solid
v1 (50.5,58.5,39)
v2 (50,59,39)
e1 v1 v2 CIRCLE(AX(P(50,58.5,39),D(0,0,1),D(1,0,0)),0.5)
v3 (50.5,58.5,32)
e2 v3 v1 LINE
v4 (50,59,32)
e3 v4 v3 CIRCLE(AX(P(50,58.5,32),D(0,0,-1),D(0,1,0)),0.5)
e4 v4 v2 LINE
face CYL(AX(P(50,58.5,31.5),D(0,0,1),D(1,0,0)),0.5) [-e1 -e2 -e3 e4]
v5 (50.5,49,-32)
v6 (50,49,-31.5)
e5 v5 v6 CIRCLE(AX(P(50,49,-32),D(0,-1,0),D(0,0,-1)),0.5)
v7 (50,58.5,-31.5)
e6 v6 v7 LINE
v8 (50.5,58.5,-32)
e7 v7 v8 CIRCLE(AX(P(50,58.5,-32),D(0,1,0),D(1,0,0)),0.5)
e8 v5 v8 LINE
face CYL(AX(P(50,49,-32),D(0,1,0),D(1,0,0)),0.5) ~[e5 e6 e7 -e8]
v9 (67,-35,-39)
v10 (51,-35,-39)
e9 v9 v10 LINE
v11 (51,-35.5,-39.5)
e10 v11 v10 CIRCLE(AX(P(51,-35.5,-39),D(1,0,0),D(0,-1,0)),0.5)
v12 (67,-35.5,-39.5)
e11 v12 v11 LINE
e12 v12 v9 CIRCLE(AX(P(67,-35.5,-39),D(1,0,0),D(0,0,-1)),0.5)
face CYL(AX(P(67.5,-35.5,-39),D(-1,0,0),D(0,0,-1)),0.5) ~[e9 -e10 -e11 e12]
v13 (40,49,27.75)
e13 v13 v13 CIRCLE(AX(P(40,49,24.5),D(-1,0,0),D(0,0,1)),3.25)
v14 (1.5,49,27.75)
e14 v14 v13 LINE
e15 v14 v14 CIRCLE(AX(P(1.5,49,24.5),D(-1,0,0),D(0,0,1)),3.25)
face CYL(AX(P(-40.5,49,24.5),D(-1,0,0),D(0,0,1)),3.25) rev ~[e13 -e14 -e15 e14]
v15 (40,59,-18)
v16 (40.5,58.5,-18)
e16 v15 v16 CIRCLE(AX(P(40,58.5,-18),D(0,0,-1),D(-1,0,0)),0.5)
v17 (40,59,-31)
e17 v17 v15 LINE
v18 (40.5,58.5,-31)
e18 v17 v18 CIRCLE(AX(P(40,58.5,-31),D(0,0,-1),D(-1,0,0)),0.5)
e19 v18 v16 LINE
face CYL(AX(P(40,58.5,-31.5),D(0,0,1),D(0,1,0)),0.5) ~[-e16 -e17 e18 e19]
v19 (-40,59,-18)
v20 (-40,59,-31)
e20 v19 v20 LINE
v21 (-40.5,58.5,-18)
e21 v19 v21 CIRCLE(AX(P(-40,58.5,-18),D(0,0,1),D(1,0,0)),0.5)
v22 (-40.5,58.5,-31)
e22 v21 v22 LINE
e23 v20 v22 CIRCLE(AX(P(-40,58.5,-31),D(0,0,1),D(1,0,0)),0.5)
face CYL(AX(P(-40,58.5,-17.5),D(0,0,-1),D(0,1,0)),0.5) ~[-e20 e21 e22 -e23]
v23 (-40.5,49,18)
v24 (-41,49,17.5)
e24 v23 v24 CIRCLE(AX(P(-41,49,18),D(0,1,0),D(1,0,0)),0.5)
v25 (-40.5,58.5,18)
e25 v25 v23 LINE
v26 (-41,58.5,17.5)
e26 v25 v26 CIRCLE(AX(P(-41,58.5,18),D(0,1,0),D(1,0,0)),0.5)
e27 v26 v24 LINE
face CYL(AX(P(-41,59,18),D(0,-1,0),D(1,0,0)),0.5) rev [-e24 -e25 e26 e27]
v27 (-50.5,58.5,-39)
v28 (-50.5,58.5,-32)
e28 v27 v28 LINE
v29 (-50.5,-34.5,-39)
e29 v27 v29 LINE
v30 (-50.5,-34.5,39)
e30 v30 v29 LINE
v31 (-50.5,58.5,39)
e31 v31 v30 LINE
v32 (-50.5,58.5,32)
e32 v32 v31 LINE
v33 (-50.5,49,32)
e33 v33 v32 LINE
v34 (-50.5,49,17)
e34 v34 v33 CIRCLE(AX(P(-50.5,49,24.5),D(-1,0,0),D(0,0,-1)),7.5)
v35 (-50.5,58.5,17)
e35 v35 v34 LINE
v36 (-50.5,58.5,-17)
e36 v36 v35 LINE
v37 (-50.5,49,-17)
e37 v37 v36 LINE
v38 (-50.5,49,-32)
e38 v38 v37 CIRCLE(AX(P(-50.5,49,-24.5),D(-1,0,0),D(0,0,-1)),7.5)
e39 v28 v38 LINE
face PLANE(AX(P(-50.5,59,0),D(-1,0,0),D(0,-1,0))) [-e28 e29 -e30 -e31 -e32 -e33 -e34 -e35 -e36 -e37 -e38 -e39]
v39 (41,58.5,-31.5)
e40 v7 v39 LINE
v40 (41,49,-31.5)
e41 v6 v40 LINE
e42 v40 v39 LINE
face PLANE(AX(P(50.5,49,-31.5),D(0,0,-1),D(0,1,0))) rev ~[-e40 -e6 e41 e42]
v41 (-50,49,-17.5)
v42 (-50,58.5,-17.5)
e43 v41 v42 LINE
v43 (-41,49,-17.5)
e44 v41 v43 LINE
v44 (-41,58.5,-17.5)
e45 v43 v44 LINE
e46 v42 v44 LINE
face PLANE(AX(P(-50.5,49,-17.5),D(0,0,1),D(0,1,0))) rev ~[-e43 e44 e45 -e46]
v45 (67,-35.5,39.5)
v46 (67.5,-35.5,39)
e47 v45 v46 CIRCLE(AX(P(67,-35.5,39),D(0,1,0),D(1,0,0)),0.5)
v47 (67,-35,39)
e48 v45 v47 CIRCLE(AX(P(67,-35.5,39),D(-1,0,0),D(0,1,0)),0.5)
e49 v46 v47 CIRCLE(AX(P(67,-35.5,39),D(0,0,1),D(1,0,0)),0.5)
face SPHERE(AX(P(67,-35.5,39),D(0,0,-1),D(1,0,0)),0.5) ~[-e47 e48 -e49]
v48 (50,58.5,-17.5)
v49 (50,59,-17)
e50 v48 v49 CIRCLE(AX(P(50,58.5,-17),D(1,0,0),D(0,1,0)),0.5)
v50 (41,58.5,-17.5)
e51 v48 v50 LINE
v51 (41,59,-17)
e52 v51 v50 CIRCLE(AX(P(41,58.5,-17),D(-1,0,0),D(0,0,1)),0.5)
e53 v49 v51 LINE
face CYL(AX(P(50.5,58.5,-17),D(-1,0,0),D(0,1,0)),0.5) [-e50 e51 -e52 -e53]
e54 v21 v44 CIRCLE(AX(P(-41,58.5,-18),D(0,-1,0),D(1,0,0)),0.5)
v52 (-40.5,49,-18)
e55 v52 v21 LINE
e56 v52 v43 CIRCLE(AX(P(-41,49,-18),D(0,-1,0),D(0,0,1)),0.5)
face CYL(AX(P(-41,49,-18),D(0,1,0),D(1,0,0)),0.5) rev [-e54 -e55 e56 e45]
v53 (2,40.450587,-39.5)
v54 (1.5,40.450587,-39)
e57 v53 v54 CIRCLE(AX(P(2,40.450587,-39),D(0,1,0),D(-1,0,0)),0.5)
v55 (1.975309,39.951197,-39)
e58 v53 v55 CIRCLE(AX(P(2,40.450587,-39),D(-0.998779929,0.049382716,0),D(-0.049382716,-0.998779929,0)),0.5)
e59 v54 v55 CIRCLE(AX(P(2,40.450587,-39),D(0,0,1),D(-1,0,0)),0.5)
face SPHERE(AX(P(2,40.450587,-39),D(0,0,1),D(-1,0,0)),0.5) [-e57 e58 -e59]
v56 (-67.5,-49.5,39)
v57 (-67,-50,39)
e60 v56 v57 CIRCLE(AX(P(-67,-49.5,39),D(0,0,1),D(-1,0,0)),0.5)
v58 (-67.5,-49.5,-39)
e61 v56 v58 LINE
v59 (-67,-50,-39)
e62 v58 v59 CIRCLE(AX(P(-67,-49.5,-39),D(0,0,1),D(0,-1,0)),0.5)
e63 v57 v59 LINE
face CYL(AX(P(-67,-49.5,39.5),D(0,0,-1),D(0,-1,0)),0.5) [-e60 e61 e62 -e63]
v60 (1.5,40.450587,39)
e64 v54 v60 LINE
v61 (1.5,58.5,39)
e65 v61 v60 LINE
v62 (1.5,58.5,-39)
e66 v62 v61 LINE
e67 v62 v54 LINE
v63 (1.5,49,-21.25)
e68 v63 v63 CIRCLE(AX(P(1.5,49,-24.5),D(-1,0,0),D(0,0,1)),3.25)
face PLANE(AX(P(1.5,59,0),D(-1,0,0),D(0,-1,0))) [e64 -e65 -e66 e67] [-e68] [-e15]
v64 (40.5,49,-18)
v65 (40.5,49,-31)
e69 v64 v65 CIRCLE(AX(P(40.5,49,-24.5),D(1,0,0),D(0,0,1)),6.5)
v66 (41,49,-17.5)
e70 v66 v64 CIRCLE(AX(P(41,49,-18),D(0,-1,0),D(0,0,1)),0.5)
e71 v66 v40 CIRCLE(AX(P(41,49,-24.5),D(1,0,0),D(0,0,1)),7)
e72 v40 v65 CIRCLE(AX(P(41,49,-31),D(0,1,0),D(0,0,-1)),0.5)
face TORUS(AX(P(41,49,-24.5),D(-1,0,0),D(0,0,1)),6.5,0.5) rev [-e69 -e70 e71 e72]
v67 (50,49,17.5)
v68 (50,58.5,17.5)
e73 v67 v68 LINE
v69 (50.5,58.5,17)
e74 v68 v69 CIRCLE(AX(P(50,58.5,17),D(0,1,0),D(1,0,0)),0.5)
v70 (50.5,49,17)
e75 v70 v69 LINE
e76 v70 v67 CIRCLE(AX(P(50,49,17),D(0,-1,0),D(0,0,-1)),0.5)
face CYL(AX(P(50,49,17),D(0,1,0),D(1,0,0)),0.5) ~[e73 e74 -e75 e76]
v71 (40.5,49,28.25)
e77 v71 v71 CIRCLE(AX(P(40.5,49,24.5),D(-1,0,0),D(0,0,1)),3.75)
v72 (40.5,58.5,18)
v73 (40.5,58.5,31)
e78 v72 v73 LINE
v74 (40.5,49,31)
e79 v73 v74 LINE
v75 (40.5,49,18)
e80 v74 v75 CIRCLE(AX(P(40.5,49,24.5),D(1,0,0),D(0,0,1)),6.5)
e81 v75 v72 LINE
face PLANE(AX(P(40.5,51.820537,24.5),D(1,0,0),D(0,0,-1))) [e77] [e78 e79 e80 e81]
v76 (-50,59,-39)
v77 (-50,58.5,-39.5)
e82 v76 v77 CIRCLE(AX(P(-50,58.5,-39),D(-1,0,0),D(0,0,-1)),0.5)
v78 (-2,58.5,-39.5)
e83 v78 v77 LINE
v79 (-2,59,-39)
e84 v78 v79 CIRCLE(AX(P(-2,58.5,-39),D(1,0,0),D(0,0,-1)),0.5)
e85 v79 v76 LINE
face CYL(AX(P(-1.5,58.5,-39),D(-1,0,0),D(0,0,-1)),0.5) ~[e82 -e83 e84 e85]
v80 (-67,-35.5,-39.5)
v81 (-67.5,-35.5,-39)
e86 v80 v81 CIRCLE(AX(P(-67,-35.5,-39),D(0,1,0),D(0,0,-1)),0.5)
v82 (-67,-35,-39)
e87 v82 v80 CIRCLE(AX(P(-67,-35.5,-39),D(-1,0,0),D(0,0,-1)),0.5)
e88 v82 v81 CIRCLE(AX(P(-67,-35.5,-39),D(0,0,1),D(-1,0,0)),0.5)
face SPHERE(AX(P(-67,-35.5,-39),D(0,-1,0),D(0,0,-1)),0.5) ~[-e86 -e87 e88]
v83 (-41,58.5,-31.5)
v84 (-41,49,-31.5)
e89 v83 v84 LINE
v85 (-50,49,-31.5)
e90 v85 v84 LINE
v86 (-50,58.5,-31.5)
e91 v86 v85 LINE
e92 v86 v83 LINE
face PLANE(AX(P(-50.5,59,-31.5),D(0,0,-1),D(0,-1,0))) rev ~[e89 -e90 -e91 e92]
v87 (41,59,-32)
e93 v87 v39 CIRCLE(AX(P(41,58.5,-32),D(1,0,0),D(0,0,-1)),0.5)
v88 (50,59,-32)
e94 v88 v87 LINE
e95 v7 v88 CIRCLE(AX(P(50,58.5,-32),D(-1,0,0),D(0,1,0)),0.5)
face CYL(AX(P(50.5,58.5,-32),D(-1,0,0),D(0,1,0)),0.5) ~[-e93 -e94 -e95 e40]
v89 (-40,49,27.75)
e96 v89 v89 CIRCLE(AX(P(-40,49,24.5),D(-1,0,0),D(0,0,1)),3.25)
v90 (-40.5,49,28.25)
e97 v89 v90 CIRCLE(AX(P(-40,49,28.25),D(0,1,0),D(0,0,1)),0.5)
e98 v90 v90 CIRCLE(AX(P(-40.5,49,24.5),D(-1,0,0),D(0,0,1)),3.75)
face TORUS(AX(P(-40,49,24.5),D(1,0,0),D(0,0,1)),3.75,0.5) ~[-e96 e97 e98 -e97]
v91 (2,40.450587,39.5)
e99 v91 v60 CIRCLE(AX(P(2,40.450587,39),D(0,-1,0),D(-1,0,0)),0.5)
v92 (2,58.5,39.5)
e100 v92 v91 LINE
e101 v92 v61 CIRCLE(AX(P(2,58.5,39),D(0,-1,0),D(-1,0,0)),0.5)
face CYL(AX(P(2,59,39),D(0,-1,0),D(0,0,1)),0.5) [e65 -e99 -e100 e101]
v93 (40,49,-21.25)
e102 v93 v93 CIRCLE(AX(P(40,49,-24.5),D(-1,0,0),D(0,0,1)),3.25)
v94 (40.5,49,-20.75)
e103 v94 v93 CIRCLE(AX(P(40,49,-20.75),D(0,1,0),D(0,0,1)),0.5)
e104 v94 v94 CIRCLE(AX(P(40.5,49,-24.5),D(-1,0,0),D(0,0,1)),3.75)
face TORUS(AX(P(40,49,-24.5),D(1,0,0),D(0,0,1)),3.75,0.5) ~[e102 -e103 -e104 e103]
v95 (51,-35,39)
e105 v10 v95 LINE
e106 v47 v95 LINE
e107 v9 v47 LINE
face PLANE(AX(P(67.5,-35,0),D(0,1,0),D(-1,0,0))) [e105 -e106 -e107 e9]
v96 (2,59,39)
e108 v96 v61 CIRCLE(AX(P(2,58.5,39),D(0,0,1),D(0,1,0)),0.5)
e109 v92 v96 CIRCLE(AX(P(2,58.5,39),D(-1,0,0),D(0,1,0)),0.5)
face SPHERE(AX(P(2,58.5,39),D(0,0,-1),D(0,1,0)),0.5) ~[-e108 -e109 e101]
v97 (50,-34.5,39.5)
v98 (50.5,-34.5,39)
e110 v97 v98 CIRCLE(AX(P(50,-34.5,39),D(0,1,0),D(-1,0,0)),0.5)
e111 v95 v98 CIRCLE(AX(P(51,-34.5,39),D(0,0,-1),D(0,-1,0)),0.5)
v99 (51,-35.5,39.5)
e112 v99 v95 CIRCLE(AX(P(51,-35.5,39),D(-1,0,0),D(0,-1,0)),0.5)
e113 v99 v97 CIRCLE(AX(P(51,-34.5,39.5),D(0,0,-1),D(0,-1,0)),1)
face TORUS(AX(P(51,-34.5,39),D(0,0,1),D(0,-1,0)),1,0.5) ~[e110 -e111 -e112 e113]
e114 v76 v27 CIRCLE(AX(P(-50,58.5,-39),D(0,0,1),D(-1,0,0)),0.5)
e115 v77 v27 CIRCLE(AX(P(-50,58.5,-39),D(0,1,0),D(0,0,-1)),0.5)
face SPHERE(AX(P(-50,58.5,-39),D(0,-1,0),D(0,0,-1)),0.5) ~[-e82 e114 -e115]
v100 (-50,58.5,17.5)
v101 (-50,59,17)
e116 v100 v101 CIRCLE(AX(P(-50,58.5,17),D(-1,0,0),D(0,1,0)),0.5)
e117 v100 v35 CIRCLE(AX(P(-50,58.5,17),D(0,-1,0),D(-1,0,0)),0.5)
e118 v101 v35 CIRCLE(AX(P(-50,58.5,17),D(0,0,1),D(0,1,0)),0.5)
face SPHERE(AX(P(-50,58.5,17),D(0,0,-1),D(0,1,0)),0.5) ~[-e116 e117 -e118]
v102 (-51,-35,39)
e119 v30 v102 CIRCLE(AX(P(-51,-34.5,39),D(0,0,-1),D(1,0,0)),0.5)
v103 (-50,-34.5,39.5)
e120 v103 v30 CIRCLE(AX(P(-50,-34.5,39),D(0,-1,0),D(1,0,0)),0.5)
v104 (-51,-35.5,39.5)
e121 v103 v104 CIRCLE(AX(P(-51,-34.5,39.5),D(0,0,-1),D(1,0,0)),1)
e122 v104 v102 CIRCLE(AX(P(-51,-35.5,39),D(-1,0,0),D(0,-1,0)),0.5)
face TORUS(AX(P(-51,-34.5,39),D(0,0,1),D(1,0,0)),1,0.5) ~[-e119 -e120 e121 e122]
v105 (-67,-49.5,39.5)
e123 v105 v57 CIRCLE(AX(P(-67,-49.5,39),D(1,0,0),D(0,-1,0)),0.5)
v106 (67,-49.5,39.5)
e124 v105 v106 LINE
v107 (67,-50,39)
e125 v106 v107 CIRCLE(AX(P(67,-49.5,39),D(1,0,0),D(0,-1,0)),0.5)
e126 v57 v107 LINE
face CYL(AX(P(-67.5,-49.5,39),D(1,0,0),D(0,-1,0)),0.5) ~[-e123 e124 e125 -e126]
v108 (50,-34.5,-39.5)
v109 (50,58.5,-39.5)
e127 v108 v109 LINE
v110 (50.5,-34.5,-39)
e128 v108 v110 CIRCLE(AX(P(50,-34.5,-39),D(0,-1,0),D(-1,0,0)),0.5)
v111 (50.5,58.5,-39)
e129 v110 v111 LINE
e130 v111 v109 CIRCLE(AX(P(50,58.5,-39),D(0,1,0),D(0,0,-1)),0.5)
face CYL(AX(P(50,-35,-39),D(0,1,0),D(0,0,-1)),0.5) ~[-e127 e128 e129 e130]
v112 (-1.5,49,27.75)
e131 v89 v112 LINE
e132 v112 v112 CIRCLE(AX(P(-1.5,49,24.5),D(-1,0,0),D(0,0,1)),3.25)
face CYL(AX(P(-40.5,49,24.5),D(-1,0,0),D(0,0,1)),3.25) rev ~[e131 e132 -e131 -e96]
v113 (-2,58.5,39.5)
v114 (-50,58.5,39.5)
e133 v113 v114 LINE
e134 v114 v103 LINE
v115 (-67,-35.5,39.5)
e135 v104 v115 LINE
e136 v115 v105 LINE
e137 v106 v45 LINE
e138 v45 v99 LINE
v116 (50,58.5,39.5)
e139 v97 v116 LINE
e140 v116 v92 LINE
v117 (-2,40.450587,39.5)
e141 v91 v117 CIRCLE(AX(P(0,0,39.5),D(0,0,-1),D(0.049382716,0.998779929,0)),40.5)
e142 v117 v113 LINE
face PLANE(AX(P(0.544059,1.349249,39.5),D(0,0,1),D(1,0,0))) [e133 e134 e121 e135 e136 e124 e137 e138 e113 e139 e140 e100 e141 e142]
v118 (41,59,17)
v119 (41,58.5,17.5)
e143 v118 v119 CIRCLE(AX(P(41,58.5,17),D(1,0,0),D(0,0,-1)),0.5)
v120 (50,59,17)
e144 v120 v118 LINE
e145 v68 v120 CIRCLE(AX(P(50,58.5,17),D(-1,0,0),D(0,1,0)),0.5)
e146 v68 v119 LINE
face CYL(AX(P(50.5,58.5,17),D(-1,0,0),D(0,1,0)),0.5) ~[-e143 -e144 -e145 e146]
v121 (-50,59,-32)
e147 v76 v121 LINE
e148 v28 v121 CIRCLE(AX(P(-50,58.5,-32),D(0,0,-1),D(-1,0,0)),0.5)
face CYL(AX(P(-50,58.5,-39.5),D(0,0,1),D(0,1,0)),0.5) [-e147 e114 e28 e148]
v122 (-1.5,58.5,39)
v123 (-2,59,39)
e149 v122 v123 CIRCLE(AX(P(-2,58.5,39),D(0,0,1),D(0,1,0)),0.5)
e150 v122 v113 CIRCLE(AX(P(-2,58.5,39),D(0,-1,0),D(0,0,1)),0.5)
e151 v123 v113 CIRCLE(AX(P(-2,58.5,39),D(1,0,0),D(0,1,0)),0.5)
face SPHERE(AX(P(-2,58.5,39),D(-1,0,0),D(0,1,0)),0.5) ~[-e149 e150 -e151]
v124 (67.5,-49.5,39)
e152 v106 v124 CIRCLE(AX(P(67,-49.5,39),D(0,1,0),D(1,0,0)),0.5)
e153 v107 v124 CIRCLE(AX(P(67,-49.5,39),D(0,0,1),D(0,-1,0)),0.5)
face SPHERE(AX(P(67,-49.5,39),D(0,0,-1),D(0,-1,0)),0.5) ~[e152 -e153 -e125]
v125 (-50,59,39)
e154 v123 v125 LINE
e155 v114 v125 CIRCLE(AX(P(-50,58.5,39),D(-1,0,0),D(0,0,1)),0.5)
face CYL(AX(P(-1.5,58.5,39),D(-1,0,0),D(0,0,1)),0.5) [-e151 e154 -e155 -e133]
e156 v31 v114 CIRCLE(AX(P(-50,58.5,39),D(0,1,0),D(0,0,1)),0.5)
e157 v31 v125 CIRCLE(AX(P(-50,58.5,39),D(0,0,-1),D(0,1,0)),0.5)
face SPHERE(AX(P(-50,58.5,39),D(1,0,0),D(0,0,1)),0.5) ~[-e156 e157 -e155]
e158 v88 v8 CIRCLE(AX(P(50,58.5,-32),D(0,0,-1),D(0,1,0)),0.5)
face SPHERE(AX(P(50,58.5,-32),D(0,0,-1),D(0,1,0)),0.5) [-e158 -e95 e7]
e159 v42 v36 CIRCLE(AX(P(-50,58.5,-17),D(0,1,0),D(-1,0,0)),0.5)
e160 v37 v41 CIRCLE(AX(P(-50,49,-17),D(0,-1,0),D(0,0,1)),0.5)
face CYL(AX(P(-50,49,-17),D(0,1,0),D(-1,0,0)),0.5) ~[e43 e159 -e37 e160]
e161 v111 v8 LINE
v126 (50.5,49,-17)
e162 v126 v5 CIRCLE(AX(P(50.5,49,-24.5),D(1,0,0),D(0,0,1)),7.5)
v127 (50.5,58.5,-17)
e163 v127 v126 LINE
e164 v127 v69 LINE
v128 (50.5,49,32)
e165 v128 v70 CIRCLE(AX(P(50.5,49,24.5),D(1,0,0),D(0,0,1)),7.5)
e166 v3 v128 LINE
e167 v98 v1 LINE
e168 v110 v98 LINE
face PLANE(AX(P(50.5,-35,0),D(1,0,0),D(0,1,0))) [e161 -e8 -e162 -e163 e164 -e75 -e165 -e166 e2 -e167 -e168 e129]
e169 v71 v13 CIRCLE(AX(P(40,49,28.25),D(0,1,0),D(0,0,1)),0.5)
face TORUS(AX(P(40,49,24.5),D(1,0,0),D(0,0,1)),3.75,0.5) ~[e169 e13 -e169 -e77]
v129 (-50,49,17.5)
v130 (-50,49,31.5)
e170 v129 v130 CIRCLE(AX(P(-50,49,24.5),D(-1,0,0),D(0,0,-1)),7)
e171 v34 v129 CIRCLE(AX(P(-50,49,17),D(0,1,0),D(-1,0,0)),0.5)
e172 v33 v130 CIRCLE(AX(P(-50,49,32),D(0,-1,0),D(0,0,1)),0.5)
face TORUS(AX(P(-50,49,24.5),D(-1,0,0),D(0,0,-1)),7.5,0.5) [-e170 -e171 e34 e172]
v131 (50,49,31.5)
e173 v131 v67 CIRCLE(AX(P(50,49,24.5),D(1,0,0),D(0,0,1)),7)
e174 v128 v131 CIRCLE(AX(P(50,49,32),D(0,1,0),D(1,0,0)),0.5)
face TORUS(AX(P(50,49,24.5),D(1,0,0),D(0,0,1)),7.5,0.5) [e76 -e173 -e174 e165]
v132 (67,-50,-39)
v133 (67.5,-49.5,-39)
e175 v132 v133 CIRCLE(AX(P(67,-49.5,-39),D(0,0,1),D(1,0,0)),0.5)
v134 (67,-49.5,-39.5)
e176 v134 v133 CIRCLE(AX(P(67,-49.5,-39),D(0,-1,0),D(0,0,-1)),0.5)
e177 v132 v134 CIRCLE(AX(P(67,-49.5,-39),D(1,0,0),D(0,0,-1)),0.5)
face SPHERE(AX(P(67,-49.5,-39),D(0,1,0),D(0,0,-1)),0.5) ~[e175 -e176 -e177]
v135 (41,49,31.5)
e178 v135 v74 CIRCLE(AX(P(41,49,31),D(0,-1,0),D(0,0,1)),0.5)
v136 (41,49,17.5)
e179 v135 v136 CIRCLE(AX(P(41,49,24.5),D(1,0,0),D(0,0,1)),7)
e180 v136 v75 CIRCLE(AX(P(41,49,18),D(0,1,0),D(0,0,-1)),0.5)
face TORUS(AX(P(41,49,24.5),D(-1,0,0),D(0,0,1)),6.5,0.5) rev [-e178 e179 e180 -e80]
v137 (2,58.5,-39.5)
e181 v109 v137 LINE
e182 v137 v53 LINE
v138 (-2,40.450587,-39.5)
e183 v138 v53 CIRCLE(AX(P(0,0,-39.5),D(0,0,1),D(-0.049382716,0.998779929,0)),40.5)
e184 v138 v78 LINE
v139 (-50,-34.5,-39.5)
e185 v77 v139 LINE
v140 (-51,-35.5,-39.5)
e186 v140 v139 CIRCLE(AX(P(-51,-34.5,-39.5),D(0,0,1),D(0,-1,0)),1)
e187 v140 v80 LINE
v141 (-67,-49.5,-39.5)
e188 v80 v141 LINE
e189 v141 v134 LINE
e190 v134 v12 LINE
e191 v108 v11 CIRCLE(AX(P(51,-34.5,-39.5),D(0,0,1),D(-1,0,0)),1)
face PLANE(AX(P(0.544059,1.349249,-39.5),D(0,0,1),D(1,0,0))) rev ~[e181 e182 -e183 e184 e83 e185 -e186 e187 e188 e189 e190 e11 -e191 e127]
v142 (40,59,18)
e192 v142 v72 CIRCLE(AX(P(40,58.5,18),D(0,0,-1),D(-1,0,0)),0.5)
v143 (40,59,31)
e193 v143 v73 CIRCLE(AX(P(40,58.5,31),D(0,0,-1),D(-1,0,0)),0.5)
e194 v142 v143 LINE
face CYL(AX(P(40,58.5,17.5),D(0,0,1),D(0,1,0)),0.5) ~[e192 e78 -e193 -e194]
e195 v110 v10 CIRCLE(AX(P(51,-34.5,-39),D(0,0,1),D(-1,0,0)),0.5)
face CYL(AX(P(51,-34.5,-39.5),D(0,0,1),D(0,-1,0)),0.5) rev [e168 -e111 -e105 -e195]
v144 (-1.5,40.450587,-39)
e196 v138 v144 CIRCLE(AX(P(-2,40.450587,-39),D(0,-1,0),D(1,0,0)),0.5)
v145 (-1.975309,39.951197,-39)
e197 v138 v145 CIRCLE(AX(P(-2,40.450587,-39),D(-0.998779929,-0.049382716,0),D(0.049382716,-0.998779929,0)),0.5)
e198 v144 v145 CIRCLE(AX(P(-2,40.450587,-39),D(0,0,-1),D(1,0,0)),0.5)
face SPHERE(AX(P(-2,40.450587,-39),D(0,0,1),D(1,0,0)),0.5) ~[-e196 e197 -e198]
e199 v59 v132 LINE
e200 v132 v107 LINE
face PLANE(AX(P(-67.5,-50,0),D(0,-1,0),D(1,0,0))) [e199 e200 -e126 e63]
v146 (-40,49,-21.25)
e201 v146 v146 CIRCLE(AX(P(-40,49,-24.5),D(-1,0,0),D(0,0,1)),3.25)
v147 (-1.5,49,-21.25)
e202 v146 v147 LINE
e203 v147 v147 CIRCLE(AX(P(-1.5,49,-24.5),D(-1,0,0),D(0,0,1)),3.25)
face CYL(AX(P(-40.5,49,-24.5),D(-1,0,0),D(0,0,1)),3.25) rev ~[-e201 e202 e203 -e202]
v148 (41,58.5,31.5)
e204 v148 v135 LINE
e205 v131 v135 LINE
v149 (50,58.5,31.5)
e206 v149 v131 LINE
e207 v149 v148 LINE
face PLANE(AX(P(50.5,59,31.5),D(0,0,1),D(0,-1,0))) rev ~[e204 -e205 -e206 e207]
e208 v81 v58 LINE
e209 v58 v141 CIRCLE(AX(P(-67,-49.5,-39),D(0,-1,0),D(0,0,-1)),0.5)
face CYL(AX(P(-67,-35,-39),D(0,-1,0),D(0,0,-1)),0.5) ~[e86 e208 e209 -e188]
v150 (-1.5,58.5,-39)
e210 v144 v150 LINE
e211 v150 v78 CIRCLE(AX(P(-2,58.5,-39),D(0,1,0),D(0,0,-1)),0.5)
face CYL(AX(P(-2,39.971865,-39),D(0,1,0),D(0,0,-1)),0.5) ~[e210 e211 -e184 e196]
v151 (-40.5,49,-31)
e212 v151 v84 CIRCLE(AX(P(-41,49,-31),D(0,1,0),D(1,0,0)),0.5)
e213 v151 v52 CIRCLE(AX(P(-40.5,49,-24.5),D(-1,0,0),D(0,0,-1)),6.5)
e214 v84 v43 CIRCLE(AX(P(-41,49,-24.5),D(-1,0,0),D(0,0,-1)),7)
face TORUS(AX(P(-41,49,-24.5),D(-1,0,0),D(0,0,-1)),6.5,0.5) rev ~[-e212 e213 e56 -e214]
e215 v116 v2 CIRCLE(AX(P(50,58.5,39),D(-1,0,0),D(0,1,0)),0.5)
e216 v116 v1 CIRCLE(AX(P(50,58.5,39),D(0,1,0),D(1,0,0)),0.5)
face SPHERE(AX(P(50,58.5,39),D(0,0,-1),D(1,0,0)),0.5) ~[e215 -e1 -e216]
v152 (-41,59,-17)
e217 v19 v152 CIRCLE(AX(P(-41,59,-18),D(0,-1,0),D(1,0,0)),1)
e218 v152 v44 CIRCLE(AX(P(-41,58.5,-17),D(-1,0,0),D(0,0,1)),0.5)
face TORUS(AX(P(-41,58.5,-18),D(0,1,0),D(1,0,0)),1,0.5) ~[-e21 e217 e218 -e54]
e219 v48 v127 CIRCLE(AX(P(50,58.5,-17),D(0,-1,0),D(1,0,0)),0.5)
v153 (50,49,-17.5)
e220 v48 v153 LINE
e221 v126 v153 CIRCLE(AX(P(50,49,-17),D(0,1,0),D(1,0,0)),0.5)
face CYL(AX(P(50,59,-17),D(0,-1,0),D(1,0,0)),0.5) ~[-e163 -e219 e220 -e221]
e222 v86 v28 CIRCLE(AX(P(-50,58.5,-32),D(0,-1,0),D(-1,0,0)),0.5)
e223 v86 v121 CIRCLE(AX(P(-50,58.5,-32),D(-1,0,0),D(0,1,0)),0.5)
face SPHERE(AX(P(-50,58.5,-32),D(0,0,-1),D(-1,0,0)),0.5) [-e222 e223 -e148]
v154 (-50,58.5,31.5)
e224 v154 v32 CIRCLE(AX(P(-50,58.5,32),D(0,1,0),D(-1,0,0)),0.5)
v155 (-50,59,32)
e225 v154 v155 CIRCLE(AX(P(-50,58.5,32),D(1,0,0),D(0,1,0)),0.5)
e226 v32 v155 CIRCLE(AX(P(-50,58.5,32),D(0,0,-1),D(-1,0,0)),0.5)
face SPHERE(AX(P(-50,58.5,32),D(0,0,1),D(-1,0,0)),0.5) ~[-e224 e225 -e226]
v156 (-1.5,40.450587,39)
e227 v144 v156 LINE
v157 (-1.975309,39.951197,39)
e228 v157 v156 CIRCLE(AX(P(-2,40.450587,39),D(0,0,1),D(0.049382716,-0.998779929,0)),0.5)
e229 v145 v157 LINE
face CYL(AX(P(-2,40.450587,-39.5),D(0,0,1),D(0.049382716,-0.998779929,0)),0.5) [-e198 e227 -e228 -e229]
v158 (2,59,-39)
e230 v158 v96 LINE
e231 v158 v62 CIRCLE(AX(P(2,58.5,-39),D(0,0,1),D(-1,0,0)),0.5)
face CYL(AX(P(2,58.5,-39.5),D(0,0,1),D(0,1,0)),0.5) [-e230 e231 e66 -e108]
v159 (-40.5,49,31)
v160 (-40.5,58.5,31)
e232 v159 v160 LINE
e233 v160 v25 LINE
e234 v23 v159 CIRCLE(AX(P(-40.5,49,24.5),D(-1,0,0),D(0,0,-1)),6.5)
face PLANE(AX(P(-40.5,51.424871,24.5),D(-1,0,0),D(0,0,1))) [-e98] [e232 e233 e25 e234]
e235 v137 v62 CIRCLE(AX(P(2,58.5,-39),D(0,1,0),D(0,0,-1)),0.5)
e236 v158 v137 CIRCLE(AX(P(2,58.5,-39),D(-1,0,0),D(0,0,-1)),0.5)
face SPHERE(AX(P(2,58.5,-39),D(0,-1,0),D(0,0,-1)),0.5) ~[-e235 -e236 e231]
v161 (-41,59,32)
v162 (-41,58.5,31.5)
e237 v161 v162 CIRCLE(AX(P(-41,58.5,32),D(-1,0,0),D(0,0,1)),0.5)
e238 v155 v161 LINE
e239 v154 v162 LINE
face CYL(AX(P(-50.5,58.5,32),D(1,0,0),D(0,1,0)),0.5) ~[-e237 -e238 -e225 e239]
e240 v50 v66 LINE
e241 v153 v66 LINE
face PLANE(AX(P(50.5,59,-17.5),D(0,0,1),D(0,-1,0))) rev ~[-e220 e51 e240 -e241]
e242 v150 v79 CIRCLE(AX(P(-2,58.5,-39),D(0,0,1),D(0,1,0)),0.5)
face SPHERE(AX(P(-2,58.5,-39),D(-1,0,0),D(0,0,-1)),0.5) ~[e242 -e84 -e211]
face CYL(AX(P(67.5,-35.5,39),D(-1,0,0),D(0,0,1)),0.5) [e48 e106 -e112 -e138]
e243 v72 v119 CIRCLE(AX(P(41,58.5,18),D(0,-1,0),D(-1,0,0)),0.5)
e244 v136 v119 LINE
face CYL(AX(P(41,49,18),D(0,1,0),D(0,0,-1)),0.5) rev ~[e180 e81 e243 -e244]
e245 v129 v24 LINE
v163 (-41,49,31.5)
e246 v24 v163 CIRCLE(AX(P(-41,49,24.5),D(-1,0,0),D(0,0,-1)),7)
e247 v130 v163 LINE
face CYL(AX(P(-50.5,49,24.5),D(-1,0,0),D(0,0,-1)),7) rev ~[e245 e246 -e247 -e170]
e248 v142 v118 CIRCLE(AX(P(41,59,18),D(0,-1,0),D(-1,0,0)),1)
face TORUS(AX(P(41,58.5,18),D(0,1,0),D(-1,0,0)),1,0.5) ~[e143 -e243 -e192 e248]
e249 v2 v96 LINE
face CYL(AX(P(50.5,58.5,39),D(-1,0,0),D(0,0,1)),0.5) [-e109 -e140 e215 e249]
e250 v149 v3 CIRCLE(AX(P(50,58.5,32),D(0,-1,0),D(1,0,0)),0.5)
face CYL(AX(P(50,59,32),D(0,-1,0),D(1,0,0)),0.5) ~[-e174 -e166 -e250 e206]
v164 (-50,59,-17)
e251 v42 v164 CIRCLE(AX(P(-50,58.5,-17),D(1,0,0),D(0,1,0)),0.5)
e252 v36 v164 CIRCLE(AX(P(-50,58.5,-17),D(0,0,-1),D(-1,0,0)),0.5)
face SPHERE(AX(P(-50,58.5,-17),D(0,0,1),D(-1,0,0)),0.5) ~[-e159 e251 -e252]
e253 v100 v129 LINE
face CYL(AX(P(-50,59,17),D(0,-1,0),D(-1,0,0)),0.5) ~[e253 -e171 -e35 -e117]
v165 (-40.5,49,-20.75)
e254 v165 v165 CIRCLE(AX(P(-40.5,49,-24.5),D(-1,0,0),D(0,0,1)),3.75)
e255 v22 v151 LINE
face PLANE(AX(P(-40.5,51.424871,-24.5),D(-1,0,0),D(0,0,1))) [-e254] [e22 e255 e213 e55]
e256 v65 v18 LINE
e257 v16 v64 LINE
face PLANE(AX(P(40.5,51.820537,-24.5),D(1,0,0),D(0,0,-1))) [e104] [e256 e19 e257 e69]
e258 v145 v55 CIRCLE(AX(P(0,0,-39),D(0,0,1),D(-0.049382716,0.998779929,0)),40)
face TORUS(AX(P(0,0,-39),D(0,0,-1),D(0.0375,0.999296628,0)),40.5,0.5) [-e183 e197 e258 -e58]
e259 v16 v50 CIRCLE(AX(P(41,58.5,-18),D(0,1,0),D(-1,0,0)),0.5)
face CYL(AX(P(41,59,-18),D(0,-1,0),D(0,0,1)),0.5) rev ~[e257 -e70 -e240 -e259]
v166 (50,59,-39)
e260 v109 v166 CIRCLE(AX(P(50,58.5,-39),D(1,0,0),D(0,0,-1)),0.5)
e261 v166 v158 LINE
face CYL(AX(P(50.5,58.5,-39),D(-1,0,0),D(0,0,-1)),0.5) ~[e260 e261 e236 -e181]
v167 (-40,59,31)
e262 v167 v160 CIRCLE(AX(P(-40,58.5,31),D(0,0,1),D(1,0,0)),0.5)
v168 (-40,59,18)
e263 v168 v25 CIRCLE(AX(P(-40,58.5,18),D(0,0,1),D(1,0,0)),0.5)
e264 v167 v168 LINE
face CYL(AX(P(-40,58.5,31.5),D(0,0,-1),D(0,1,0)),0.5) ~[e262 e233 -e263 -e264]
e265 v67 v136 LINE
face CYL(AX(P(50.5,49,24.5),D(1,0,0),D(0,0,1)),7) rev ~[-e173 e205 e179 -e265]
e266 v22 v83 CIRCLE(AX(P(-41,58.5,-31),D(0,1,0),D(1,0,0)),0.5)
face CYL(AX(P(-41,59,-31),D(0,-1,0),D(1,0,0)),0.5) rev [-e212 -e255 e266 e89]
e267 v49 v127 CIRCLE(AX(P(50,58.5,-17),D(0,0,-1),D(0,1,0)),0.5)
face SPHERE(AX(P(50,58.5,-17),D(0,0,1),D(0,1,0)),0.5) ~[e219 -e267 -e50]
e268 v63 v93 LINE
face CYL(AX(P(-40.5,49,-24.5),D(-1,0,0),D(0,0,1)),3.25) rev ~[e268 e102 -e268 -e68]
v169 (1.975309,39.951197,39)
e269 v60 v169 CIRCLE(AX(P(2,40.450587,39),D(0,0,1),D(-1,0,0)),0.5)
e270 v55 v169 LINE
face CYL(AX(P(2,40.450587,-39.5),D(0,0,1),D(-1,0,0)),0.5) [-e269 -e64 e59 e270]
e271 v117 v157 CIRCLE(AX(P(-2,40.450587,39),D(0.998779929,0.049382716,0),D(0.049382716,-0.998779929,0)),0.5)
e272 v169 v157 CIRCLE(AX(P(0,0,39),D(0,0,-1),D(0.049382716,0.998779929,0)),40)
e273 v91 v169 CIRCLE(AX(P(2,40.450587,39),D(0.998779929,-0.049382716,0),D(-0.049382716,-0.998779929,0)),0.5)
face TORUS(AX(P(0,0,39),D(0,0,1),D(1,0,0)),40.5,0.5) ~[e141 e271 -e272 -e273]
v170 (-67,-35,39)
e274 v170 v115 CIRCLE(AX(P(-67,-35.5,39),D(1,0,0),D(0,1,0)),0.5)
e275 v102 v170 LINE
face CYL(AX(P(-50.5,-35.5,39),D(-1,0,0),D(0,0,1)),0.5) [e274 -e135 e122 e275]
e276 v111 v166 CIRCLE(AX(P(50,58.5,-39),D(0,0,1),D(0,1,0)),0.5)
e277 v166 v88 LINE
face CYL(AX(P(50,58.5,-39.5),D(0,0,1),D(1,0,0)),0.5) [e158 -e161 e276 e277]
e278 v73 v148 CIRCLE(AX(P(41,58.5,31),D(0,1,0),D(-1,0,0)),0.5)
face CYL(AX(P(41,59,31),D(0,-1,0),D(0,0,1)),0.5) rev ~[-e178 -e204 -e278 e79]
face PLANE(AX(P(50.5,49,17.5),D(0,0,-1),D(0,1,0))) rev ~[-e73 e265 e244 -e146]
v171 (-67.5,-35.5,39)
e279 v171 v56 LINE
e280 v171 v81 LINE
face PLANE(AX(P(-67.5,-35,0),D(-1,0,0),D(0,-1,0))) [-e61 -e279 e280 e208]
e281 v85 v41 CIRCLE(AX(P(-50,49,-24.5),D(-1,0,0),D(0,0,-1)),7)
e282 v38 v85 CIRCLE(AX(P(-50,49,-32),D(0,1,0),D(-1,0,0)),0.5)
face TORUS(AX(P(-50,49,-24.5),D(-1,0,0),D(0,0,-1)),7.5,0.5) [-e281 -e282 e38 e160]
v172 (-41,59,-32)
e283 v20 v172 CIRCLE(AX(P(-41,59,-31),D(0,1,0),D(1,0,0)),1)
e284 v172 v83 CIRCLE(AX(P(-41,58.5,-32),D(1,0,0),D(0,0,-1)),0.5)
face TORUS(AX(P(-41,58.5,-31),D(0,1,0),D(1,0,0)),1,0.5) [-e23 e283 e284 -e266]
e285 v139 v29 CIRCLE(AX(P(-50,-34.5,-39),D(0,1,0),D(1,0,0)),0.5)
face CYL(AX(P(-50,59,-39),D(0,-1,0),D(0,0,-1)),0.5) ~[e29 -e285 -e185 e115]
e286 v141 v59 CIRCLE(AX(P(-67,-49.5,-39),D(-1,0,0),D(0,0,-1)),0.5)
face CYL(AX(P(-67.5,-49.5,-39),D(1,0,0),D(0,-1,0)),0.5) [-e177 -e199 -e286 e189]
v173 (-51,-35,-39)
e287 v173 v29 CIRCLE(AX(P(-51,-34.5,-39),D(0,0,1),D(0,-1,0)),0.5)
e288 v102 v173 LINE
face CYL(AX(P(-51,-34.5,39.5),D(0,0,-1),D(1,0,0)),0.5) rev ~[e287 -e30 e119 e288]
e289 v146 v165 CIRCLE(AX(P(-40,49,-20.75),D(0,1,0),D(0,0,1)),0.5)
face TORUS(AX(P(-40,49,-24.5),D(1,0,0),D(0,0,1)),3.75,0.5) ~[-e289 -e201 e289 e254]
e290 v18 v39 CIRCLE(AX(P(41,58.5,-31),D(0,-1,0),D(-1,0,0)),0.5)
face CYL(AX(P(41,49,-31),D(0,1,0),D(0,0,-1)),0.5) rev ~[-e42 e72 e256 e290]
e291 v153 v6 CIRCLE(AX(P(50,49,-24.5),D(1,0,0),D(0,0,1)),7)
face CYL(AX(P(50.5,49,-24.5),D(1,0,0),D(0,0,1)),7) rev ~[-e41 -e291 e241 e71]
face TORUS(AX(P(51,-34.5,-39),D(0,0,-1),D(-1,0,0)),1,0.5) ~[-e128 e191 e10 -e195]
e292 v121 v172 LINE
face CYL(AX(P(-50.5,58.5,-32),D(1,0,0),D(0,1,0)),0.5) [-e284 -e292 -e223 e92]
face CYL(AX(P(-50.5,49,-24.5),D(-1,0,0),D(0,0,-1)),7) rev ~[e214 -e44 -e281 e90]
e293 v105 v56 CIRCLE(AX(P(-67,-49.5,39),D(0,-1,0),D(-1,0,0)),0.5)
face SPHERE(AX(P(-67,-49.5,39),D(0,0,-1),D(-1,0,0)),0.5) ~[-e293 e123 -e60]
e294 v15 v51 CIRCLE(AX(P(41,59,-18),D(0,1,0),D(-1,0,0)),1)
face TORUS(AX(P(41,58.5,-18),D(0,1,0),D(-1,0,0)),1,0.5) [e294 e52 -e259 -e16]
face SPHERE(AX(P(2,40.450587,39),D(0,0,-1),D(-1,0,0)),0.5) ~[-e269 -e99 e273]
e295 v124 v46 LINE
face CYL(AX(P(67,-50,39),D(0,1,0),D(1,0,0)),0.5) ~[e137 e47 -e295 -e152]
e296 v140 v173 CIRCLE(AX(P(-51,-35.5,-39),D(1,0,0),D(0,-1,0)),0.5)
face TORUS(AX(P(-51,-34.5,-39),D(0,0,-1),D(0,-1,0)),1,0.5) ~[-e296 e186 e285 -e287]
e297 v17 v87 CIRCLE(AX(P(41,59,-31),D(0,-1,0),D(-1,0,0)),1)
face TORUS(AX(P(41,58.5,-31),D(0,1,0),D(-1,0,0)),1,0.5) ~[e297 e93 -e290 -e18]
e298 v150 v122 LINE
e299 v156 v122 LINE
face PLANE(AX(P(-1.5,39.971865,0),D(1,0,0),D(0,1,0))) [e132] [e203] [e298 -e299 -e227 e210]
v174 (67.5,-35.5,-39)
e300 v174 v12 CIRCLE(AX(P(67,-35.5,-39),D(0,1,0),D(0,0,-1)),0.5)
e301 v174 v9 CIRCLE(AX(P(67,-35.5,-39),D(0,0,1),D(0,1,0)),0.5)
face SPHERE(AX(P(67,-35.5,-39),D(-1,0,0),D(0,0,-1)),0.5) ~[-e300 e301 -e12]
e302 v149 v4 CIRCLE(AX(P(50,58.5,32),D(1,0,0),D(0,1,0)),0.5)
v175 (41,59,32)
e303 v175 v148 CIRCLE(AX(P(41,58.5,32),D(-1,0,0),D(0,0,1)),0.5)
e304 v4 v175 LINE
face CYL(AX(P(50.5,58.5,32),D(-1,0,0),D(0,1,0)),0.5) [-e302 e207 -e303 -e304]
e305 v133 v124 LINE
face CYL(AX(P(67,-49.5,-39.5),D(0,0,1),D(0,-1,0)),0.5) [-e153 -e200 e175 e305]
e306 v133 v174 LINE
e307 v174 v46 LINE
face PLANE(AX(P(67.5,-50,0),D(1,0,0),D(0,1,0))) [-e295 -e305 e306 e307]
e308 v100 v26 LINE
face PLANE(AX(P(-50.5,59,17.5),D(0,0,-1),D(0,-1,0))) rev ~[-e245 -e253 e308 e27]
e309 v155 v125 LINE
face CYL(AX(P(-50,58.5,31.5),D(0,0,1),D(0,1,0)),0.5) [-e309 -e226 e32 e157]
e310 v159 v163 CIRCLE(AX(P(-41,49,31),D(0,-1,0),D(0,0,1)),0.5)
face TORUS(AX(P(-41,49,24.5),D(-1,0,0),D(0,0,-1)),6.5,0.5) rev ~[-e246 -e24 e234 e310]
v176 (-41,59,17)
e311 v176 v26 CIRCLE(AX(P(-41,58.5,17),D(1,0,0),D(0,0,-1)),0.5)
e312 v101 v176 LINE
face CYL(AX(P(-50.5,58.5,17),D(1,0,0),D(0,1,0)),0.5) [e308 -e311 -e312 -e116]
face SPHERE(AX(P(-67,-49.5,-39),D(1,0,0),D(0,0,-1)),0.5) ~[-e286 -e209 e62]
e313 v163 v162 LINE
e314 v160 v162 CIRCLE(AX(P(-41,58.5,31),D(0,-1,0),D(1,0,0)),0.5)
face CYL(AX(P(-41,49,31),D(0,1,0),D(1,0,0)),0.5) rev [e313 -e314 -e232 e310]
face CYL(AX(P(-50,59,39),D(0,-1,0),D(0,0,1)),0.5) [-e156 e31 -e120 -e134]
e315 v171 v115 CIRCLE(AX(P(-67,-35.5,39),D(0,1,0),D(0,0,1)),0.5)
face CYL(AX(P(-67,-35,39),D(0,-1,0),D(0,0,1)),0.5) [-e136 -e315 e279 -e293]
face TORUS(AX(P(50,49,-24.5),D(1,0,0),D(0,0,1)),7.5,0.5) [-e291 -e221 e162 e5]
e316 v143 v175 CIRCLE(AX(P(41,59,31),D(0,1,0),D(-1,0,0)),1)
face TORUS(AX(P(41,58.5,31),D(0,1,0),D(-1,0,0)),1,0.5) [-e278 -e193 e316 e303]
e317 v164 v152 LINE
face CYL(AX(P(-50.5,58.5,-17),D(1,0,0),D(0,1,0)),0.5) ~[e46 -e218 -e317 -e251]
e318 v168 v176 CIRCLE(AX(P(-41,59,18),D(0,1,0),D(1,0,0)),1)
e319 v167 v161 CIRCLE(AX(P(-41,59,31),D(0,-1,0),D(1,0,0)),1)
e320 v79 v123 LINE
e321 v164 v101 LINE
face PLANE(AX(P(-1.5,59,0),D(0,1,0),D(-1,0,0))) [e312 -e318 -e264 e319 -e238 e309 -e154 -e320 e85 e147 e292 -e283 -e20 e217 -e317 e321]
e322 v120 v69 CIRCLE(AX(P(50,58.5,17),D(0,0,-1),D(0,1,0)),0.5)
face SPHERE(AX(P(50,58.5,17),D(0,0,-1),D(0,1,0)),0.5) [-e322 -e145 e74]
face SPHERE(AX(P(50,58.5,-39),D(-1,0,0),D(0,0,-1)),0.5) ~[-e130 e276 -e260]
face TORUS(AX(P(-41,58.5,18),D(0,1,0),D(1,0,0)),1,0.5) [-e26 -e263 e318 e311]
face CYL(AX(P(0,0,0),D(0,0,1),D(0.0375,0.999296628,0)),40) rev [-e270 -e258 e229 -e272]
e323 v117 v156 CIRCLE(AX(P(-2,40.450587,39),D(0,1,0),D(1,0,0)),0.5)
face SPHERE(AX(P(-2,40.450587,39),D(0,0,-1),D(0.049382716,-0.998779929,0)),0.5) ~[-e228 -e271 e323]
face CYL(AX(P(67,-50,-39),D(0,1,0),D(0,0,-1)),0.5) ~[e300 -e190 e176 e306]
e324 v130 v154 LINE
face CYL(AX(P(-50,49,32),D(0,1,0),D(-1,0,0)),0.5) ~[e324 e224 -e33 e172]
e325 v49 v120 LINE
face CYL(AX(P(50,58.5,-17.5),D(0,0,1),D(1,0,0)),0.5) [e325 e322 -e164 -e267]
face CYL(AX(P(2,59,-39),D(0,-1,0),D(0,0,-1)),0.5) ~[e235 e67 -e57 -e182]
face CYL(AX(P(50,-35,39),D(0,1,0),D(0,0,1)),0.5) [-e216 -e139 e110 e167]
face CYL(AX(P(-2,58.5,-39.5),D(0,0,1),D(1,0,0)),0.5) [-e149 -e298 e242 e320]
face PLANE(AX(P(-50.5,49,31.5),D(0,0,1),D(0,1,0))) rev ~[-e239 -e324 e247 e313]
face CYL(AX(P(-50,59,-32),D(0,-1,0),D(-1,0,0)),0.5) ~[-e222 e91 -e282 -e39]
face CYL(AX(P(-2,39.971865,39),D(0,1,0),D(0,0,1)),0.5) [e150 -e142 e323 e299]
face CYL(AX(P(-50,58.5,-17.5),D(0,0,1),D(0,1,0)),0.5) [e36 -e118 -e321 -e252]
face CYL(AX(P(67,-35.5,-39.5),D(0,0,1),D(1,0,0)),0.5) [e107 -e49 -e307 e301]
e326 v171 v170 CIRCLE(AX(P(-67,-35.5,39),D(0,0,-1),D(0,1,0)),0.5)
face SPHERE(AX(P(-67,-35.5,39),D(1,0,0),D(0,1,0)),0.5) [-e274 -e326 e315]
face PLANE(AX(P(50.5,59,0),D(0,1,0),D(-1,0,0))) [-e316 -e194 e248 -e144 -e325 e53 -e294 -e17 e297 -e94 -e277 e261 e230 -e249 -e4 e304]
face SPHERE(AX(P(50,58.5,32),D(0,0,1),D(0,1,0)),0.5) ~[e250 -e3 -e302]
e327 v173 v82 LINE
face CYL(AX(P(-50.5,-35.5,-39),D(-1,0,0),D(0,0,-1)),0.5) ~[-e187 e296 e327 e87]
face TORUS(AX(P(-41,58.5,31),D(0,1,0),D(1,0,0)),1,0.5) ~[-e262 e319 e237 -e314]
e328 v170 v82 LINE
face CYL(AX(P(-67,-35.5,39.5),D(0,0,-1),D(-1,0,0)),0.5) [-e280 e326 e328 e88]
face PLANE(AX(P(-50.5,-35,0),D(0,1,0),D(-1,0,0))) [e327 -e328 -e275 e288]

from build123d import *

# Parameters (mm, degrees)
EXTRUDE_1_DEPTH     = 39.5
CUT_EXTRUDE_1_DEPTH = 10
CUT_EXTRUDE_2_DEPTH = 10
SKETCH_4_R          = 3.25
CUT_EXTRUDE_3_DEPTH = 109
FILLET_1_R          = 0.5


with BuildPart() as part:
    # Эскиз1 → Бобышка-Вытянуть1 (new body, symmetric)
    with BuildSketch(Plane.XY):
        with BuildLine():
            Line((-67.5, -50), (67.5, -50))
            Line((67.5, -50), (67.5, -35))
            Line((67.5, -35), (50.5, -35))
            Line((50.5, -35), (50.5, 59))
            Line((50.5, 59), (1.5, 59))
            Line((1.5, 59), (1.5, 39.971865105))
            ThreePointArc((1.5, 39.971865105), (28.809720582, 27.748873851), (40, 0))
            ThreePointArc((40, 0), (-27.748873851, -28.809720582), (-1.5, 39.971865105))
            Line((-1.5, 39.971865105), (-1.5, 59))
            Line((-1.5, 59), (-50.5, 59))
            Line((-50.5, 59), (-50.5, -35))
            Line((-50.5, -35), (-67.5, -35))
            Line((-67.5, -35), (-67.5, -50))
        make_face()
    extrude(amount=EXTRUDE_1_DEPTH, both=True)

    # Эскиз2 → Вырез-Вытянуть1 (cut)
    with BuildSketch(Plane.ZY.offset(50.5)):
        with BuildLine():
            ThreePointArc((-17.5, 49), (-24.5, 56), (-31.5, 49))
            Line((-31.5, 49), (-17.5, 49))
        make_face()
        with BuildLine():
            Line((-17.5, 49), (-31.5, 49))
            ThreePointArc((-31.5, 49), (-24.5, 42), (-17.5, 49))
        make_face()
        with BuildLine():
            Line((-17.5, 59), (-31.5, 59))
            Line((-31.5, 59), (-31.5, 49))
            ThreePointArc((-31.5, 49), (-24.5, 56), (-17.5, 49))
            Line((-17.5, 49), (-17.5, 59))
        make_face()
        with BuildLine():
            ThreePointArc((31.5, 49), (24.5, 56), (17.5, 49))
            Line((17.5, 49), (31.5, 49))
        make_face()
        with BuildLine():
            Line((31.5, 49), (17.5, 49))
            ThreePointArc((17.5, 49), (24.5, 42), (31.5, 49))
        make_face()
        with BuildLine():
            ThreePointArc((31.5, 49), (24.5, 56), (17.5, 49))
            Line((17.5, 49), (31.5, 49))
        make_face()
        with BuildLine():
            Line((31.5, 49), (17.5, 49))
            ThreePointArc((17.5, 49), (24.5, 42), (31.5, 49))
        make_face()
        with BuildLine():
            Line((31.5, 59), (17.5, 59))
            Line((17.5, 59), (17.5, 49))
            ThreePointArc((17.5, 49), (24.5, 56), (31.5, 49))
            Line((31.5, 49), (31.5, 59))
        make_face()
    extrude(amount=-CUT_EXTRUDE_1_DEPTH, mode=Mode.SUBTRACT)

    # Эскиз3 → Вырез-Вытянуть2 (cut)
    with BuildSketch(Plane(origin=(50.5, 0, 0), x_dir=(0, 0, -1), z_dir=(1, 0, 0))):
        with BuildLine():
            Line((-31.5, 59), (-31.5, 49))
            ThreePointArc((-31.5, 49), (-24.5, 42), (-17.5, 49))
            Line((-17.5, 49), (-17.5, 59))
            Line((-17.5, 59), (-31.5, 59))
        make_face()
        with BuildLine():
            Line((17.5, 59), (17.5, 49))
            ThreePointArc((17.5, 49), (24.5, 42), (31.5, 49))
            Line((31.5, 49), (31.5, 59))
            Line((31.5, 59), (17.5, 59))
        make_face()
    extrude(amount=-CUT_EXTRUDE_2_DEPTH, mode=Mode.SUBTRACT)

    # Эскиз4 → Вырез-Вытянуть3 (cut, through all)
    with BuildSketch(Plane.ZY.offset(40.5)):
        with Locations((-24.5, 49)):
            Circle(SKETCH_4_R)
        with Locations((24.5, 49)):
            Circle(SKETCH_4_R)
    extrude(amount=-CUT_EXTRUDE_3_DEPTH, mode=Mode.SUBTRACT)

    # Скругление1
    fillet_1_edges = [part.edges().sort_by_distance(p)[0] for p in [
        (40.5, 49, 21.25),
        (-40.5, 49, 21.25),
        (1.5, 49.485932553, -39.5),
        (-26, 59, 39.5),
        (26, 59, -39.5),
        (50.5, 12, -39.5),
        (59, -35, -39.5),
        (67.5, -42.5, -39.5),
        (0, -50, -39.5),
        (-67.5, -42.5, -39.5),
        (-59, -35, -39.5),
        (-50.5, 12, -39.5),
        (-50.5, 12, 39.5),
        (-26, 59, -39.5),
        (-1.5, 49.485932553, -39.5),
        (0, -40, -39.5),
        (-59, -35, 39.5),
        (1.5, 39.971865105, 0),
        (1.5, 59, 0),
        (50.5, 59, 35.5),
        (50.5, -35, 0),
        (67.5, -35, 0),
        (67.5, -50, 0),
        (-67.5, -50, 0),
        (-67.5, -35, 0),
        (-50.5, -35, 0),
        (-50.5, 59, 35.5),
        (-1.5, 59, 0),
        (-1.5, 39.971865105, 0),
        (-67.5, -42.5, 39.5),
        (0, -50, 39.5),
        (67.5, -42.5, 39.5),
        (-50.5, 59, 0),
        (59, -35, 39.5),
        (-40.5, 42, 24.5),
        (-40.5, 54, 17.5),
        (-40.5, 59, 24.5),
        (-45.5, 59, 17.5),
        (50.5, 12, 39.5),
        (-50.5, 54, 31.5),
        (-45.5, 59, 31.5),
        (-40.5, 54, 31.5),
        (-50.5, 42, 24.5),
        (-50.5, 54, 17.5),
        (26, 59, 39.5),
        (1.5, 49.485932553, 39.5),
        (-50.5, 59, -35.5),
        (0, -40, 39.5),
        (-40.5, 42, -24.5),
        (-50.5, 42, -24.5),
        (-50.5, 54, -31.5),
        (-40.5, 54, -17.5),
        (-40.5, 59, -24.5),
        (-45.5, 59, -31.5),
        (-50.5, 54, -17.5),
        (-45.5, 59, -17.5),
        (-40.5, 54, -31.5),
        (50.5, 59, 0),
        (40.5, 42, 24.5),
        (40.5, 54, 31.5),
        (40.5, 59, 24.5),
        (45.5, 59, 31.5),
        (40.5, 54, 17.5),
        (45.5, 59, 17.5),
        (50.5, 42, 24.5),
        (50.5, 54, 17.5),
        (50.5, 54, 31.5),
        (50.5, 59, -35.5),
        (40.5, 42, -24.5),
        (40.5, 54, -17.5),
        (40.5, 59, -24.5),
        (45.5, 59, -17.5),
        (40.5, 54, -31.5),
        (45.5, 59, -31.5),
        (50.5, 42, -24.5),
        (50.5, 54, -31.5),
        (50.5, 54, -17.5),
        (-1.5, 49.485932553, 39.5),
        (40.5, 49, -27.75),
        (-40.5, 49, -27.75),
    ]]
    fillet(fillet_1_edges, radius=FILLET_1_R)


solid = part.part
